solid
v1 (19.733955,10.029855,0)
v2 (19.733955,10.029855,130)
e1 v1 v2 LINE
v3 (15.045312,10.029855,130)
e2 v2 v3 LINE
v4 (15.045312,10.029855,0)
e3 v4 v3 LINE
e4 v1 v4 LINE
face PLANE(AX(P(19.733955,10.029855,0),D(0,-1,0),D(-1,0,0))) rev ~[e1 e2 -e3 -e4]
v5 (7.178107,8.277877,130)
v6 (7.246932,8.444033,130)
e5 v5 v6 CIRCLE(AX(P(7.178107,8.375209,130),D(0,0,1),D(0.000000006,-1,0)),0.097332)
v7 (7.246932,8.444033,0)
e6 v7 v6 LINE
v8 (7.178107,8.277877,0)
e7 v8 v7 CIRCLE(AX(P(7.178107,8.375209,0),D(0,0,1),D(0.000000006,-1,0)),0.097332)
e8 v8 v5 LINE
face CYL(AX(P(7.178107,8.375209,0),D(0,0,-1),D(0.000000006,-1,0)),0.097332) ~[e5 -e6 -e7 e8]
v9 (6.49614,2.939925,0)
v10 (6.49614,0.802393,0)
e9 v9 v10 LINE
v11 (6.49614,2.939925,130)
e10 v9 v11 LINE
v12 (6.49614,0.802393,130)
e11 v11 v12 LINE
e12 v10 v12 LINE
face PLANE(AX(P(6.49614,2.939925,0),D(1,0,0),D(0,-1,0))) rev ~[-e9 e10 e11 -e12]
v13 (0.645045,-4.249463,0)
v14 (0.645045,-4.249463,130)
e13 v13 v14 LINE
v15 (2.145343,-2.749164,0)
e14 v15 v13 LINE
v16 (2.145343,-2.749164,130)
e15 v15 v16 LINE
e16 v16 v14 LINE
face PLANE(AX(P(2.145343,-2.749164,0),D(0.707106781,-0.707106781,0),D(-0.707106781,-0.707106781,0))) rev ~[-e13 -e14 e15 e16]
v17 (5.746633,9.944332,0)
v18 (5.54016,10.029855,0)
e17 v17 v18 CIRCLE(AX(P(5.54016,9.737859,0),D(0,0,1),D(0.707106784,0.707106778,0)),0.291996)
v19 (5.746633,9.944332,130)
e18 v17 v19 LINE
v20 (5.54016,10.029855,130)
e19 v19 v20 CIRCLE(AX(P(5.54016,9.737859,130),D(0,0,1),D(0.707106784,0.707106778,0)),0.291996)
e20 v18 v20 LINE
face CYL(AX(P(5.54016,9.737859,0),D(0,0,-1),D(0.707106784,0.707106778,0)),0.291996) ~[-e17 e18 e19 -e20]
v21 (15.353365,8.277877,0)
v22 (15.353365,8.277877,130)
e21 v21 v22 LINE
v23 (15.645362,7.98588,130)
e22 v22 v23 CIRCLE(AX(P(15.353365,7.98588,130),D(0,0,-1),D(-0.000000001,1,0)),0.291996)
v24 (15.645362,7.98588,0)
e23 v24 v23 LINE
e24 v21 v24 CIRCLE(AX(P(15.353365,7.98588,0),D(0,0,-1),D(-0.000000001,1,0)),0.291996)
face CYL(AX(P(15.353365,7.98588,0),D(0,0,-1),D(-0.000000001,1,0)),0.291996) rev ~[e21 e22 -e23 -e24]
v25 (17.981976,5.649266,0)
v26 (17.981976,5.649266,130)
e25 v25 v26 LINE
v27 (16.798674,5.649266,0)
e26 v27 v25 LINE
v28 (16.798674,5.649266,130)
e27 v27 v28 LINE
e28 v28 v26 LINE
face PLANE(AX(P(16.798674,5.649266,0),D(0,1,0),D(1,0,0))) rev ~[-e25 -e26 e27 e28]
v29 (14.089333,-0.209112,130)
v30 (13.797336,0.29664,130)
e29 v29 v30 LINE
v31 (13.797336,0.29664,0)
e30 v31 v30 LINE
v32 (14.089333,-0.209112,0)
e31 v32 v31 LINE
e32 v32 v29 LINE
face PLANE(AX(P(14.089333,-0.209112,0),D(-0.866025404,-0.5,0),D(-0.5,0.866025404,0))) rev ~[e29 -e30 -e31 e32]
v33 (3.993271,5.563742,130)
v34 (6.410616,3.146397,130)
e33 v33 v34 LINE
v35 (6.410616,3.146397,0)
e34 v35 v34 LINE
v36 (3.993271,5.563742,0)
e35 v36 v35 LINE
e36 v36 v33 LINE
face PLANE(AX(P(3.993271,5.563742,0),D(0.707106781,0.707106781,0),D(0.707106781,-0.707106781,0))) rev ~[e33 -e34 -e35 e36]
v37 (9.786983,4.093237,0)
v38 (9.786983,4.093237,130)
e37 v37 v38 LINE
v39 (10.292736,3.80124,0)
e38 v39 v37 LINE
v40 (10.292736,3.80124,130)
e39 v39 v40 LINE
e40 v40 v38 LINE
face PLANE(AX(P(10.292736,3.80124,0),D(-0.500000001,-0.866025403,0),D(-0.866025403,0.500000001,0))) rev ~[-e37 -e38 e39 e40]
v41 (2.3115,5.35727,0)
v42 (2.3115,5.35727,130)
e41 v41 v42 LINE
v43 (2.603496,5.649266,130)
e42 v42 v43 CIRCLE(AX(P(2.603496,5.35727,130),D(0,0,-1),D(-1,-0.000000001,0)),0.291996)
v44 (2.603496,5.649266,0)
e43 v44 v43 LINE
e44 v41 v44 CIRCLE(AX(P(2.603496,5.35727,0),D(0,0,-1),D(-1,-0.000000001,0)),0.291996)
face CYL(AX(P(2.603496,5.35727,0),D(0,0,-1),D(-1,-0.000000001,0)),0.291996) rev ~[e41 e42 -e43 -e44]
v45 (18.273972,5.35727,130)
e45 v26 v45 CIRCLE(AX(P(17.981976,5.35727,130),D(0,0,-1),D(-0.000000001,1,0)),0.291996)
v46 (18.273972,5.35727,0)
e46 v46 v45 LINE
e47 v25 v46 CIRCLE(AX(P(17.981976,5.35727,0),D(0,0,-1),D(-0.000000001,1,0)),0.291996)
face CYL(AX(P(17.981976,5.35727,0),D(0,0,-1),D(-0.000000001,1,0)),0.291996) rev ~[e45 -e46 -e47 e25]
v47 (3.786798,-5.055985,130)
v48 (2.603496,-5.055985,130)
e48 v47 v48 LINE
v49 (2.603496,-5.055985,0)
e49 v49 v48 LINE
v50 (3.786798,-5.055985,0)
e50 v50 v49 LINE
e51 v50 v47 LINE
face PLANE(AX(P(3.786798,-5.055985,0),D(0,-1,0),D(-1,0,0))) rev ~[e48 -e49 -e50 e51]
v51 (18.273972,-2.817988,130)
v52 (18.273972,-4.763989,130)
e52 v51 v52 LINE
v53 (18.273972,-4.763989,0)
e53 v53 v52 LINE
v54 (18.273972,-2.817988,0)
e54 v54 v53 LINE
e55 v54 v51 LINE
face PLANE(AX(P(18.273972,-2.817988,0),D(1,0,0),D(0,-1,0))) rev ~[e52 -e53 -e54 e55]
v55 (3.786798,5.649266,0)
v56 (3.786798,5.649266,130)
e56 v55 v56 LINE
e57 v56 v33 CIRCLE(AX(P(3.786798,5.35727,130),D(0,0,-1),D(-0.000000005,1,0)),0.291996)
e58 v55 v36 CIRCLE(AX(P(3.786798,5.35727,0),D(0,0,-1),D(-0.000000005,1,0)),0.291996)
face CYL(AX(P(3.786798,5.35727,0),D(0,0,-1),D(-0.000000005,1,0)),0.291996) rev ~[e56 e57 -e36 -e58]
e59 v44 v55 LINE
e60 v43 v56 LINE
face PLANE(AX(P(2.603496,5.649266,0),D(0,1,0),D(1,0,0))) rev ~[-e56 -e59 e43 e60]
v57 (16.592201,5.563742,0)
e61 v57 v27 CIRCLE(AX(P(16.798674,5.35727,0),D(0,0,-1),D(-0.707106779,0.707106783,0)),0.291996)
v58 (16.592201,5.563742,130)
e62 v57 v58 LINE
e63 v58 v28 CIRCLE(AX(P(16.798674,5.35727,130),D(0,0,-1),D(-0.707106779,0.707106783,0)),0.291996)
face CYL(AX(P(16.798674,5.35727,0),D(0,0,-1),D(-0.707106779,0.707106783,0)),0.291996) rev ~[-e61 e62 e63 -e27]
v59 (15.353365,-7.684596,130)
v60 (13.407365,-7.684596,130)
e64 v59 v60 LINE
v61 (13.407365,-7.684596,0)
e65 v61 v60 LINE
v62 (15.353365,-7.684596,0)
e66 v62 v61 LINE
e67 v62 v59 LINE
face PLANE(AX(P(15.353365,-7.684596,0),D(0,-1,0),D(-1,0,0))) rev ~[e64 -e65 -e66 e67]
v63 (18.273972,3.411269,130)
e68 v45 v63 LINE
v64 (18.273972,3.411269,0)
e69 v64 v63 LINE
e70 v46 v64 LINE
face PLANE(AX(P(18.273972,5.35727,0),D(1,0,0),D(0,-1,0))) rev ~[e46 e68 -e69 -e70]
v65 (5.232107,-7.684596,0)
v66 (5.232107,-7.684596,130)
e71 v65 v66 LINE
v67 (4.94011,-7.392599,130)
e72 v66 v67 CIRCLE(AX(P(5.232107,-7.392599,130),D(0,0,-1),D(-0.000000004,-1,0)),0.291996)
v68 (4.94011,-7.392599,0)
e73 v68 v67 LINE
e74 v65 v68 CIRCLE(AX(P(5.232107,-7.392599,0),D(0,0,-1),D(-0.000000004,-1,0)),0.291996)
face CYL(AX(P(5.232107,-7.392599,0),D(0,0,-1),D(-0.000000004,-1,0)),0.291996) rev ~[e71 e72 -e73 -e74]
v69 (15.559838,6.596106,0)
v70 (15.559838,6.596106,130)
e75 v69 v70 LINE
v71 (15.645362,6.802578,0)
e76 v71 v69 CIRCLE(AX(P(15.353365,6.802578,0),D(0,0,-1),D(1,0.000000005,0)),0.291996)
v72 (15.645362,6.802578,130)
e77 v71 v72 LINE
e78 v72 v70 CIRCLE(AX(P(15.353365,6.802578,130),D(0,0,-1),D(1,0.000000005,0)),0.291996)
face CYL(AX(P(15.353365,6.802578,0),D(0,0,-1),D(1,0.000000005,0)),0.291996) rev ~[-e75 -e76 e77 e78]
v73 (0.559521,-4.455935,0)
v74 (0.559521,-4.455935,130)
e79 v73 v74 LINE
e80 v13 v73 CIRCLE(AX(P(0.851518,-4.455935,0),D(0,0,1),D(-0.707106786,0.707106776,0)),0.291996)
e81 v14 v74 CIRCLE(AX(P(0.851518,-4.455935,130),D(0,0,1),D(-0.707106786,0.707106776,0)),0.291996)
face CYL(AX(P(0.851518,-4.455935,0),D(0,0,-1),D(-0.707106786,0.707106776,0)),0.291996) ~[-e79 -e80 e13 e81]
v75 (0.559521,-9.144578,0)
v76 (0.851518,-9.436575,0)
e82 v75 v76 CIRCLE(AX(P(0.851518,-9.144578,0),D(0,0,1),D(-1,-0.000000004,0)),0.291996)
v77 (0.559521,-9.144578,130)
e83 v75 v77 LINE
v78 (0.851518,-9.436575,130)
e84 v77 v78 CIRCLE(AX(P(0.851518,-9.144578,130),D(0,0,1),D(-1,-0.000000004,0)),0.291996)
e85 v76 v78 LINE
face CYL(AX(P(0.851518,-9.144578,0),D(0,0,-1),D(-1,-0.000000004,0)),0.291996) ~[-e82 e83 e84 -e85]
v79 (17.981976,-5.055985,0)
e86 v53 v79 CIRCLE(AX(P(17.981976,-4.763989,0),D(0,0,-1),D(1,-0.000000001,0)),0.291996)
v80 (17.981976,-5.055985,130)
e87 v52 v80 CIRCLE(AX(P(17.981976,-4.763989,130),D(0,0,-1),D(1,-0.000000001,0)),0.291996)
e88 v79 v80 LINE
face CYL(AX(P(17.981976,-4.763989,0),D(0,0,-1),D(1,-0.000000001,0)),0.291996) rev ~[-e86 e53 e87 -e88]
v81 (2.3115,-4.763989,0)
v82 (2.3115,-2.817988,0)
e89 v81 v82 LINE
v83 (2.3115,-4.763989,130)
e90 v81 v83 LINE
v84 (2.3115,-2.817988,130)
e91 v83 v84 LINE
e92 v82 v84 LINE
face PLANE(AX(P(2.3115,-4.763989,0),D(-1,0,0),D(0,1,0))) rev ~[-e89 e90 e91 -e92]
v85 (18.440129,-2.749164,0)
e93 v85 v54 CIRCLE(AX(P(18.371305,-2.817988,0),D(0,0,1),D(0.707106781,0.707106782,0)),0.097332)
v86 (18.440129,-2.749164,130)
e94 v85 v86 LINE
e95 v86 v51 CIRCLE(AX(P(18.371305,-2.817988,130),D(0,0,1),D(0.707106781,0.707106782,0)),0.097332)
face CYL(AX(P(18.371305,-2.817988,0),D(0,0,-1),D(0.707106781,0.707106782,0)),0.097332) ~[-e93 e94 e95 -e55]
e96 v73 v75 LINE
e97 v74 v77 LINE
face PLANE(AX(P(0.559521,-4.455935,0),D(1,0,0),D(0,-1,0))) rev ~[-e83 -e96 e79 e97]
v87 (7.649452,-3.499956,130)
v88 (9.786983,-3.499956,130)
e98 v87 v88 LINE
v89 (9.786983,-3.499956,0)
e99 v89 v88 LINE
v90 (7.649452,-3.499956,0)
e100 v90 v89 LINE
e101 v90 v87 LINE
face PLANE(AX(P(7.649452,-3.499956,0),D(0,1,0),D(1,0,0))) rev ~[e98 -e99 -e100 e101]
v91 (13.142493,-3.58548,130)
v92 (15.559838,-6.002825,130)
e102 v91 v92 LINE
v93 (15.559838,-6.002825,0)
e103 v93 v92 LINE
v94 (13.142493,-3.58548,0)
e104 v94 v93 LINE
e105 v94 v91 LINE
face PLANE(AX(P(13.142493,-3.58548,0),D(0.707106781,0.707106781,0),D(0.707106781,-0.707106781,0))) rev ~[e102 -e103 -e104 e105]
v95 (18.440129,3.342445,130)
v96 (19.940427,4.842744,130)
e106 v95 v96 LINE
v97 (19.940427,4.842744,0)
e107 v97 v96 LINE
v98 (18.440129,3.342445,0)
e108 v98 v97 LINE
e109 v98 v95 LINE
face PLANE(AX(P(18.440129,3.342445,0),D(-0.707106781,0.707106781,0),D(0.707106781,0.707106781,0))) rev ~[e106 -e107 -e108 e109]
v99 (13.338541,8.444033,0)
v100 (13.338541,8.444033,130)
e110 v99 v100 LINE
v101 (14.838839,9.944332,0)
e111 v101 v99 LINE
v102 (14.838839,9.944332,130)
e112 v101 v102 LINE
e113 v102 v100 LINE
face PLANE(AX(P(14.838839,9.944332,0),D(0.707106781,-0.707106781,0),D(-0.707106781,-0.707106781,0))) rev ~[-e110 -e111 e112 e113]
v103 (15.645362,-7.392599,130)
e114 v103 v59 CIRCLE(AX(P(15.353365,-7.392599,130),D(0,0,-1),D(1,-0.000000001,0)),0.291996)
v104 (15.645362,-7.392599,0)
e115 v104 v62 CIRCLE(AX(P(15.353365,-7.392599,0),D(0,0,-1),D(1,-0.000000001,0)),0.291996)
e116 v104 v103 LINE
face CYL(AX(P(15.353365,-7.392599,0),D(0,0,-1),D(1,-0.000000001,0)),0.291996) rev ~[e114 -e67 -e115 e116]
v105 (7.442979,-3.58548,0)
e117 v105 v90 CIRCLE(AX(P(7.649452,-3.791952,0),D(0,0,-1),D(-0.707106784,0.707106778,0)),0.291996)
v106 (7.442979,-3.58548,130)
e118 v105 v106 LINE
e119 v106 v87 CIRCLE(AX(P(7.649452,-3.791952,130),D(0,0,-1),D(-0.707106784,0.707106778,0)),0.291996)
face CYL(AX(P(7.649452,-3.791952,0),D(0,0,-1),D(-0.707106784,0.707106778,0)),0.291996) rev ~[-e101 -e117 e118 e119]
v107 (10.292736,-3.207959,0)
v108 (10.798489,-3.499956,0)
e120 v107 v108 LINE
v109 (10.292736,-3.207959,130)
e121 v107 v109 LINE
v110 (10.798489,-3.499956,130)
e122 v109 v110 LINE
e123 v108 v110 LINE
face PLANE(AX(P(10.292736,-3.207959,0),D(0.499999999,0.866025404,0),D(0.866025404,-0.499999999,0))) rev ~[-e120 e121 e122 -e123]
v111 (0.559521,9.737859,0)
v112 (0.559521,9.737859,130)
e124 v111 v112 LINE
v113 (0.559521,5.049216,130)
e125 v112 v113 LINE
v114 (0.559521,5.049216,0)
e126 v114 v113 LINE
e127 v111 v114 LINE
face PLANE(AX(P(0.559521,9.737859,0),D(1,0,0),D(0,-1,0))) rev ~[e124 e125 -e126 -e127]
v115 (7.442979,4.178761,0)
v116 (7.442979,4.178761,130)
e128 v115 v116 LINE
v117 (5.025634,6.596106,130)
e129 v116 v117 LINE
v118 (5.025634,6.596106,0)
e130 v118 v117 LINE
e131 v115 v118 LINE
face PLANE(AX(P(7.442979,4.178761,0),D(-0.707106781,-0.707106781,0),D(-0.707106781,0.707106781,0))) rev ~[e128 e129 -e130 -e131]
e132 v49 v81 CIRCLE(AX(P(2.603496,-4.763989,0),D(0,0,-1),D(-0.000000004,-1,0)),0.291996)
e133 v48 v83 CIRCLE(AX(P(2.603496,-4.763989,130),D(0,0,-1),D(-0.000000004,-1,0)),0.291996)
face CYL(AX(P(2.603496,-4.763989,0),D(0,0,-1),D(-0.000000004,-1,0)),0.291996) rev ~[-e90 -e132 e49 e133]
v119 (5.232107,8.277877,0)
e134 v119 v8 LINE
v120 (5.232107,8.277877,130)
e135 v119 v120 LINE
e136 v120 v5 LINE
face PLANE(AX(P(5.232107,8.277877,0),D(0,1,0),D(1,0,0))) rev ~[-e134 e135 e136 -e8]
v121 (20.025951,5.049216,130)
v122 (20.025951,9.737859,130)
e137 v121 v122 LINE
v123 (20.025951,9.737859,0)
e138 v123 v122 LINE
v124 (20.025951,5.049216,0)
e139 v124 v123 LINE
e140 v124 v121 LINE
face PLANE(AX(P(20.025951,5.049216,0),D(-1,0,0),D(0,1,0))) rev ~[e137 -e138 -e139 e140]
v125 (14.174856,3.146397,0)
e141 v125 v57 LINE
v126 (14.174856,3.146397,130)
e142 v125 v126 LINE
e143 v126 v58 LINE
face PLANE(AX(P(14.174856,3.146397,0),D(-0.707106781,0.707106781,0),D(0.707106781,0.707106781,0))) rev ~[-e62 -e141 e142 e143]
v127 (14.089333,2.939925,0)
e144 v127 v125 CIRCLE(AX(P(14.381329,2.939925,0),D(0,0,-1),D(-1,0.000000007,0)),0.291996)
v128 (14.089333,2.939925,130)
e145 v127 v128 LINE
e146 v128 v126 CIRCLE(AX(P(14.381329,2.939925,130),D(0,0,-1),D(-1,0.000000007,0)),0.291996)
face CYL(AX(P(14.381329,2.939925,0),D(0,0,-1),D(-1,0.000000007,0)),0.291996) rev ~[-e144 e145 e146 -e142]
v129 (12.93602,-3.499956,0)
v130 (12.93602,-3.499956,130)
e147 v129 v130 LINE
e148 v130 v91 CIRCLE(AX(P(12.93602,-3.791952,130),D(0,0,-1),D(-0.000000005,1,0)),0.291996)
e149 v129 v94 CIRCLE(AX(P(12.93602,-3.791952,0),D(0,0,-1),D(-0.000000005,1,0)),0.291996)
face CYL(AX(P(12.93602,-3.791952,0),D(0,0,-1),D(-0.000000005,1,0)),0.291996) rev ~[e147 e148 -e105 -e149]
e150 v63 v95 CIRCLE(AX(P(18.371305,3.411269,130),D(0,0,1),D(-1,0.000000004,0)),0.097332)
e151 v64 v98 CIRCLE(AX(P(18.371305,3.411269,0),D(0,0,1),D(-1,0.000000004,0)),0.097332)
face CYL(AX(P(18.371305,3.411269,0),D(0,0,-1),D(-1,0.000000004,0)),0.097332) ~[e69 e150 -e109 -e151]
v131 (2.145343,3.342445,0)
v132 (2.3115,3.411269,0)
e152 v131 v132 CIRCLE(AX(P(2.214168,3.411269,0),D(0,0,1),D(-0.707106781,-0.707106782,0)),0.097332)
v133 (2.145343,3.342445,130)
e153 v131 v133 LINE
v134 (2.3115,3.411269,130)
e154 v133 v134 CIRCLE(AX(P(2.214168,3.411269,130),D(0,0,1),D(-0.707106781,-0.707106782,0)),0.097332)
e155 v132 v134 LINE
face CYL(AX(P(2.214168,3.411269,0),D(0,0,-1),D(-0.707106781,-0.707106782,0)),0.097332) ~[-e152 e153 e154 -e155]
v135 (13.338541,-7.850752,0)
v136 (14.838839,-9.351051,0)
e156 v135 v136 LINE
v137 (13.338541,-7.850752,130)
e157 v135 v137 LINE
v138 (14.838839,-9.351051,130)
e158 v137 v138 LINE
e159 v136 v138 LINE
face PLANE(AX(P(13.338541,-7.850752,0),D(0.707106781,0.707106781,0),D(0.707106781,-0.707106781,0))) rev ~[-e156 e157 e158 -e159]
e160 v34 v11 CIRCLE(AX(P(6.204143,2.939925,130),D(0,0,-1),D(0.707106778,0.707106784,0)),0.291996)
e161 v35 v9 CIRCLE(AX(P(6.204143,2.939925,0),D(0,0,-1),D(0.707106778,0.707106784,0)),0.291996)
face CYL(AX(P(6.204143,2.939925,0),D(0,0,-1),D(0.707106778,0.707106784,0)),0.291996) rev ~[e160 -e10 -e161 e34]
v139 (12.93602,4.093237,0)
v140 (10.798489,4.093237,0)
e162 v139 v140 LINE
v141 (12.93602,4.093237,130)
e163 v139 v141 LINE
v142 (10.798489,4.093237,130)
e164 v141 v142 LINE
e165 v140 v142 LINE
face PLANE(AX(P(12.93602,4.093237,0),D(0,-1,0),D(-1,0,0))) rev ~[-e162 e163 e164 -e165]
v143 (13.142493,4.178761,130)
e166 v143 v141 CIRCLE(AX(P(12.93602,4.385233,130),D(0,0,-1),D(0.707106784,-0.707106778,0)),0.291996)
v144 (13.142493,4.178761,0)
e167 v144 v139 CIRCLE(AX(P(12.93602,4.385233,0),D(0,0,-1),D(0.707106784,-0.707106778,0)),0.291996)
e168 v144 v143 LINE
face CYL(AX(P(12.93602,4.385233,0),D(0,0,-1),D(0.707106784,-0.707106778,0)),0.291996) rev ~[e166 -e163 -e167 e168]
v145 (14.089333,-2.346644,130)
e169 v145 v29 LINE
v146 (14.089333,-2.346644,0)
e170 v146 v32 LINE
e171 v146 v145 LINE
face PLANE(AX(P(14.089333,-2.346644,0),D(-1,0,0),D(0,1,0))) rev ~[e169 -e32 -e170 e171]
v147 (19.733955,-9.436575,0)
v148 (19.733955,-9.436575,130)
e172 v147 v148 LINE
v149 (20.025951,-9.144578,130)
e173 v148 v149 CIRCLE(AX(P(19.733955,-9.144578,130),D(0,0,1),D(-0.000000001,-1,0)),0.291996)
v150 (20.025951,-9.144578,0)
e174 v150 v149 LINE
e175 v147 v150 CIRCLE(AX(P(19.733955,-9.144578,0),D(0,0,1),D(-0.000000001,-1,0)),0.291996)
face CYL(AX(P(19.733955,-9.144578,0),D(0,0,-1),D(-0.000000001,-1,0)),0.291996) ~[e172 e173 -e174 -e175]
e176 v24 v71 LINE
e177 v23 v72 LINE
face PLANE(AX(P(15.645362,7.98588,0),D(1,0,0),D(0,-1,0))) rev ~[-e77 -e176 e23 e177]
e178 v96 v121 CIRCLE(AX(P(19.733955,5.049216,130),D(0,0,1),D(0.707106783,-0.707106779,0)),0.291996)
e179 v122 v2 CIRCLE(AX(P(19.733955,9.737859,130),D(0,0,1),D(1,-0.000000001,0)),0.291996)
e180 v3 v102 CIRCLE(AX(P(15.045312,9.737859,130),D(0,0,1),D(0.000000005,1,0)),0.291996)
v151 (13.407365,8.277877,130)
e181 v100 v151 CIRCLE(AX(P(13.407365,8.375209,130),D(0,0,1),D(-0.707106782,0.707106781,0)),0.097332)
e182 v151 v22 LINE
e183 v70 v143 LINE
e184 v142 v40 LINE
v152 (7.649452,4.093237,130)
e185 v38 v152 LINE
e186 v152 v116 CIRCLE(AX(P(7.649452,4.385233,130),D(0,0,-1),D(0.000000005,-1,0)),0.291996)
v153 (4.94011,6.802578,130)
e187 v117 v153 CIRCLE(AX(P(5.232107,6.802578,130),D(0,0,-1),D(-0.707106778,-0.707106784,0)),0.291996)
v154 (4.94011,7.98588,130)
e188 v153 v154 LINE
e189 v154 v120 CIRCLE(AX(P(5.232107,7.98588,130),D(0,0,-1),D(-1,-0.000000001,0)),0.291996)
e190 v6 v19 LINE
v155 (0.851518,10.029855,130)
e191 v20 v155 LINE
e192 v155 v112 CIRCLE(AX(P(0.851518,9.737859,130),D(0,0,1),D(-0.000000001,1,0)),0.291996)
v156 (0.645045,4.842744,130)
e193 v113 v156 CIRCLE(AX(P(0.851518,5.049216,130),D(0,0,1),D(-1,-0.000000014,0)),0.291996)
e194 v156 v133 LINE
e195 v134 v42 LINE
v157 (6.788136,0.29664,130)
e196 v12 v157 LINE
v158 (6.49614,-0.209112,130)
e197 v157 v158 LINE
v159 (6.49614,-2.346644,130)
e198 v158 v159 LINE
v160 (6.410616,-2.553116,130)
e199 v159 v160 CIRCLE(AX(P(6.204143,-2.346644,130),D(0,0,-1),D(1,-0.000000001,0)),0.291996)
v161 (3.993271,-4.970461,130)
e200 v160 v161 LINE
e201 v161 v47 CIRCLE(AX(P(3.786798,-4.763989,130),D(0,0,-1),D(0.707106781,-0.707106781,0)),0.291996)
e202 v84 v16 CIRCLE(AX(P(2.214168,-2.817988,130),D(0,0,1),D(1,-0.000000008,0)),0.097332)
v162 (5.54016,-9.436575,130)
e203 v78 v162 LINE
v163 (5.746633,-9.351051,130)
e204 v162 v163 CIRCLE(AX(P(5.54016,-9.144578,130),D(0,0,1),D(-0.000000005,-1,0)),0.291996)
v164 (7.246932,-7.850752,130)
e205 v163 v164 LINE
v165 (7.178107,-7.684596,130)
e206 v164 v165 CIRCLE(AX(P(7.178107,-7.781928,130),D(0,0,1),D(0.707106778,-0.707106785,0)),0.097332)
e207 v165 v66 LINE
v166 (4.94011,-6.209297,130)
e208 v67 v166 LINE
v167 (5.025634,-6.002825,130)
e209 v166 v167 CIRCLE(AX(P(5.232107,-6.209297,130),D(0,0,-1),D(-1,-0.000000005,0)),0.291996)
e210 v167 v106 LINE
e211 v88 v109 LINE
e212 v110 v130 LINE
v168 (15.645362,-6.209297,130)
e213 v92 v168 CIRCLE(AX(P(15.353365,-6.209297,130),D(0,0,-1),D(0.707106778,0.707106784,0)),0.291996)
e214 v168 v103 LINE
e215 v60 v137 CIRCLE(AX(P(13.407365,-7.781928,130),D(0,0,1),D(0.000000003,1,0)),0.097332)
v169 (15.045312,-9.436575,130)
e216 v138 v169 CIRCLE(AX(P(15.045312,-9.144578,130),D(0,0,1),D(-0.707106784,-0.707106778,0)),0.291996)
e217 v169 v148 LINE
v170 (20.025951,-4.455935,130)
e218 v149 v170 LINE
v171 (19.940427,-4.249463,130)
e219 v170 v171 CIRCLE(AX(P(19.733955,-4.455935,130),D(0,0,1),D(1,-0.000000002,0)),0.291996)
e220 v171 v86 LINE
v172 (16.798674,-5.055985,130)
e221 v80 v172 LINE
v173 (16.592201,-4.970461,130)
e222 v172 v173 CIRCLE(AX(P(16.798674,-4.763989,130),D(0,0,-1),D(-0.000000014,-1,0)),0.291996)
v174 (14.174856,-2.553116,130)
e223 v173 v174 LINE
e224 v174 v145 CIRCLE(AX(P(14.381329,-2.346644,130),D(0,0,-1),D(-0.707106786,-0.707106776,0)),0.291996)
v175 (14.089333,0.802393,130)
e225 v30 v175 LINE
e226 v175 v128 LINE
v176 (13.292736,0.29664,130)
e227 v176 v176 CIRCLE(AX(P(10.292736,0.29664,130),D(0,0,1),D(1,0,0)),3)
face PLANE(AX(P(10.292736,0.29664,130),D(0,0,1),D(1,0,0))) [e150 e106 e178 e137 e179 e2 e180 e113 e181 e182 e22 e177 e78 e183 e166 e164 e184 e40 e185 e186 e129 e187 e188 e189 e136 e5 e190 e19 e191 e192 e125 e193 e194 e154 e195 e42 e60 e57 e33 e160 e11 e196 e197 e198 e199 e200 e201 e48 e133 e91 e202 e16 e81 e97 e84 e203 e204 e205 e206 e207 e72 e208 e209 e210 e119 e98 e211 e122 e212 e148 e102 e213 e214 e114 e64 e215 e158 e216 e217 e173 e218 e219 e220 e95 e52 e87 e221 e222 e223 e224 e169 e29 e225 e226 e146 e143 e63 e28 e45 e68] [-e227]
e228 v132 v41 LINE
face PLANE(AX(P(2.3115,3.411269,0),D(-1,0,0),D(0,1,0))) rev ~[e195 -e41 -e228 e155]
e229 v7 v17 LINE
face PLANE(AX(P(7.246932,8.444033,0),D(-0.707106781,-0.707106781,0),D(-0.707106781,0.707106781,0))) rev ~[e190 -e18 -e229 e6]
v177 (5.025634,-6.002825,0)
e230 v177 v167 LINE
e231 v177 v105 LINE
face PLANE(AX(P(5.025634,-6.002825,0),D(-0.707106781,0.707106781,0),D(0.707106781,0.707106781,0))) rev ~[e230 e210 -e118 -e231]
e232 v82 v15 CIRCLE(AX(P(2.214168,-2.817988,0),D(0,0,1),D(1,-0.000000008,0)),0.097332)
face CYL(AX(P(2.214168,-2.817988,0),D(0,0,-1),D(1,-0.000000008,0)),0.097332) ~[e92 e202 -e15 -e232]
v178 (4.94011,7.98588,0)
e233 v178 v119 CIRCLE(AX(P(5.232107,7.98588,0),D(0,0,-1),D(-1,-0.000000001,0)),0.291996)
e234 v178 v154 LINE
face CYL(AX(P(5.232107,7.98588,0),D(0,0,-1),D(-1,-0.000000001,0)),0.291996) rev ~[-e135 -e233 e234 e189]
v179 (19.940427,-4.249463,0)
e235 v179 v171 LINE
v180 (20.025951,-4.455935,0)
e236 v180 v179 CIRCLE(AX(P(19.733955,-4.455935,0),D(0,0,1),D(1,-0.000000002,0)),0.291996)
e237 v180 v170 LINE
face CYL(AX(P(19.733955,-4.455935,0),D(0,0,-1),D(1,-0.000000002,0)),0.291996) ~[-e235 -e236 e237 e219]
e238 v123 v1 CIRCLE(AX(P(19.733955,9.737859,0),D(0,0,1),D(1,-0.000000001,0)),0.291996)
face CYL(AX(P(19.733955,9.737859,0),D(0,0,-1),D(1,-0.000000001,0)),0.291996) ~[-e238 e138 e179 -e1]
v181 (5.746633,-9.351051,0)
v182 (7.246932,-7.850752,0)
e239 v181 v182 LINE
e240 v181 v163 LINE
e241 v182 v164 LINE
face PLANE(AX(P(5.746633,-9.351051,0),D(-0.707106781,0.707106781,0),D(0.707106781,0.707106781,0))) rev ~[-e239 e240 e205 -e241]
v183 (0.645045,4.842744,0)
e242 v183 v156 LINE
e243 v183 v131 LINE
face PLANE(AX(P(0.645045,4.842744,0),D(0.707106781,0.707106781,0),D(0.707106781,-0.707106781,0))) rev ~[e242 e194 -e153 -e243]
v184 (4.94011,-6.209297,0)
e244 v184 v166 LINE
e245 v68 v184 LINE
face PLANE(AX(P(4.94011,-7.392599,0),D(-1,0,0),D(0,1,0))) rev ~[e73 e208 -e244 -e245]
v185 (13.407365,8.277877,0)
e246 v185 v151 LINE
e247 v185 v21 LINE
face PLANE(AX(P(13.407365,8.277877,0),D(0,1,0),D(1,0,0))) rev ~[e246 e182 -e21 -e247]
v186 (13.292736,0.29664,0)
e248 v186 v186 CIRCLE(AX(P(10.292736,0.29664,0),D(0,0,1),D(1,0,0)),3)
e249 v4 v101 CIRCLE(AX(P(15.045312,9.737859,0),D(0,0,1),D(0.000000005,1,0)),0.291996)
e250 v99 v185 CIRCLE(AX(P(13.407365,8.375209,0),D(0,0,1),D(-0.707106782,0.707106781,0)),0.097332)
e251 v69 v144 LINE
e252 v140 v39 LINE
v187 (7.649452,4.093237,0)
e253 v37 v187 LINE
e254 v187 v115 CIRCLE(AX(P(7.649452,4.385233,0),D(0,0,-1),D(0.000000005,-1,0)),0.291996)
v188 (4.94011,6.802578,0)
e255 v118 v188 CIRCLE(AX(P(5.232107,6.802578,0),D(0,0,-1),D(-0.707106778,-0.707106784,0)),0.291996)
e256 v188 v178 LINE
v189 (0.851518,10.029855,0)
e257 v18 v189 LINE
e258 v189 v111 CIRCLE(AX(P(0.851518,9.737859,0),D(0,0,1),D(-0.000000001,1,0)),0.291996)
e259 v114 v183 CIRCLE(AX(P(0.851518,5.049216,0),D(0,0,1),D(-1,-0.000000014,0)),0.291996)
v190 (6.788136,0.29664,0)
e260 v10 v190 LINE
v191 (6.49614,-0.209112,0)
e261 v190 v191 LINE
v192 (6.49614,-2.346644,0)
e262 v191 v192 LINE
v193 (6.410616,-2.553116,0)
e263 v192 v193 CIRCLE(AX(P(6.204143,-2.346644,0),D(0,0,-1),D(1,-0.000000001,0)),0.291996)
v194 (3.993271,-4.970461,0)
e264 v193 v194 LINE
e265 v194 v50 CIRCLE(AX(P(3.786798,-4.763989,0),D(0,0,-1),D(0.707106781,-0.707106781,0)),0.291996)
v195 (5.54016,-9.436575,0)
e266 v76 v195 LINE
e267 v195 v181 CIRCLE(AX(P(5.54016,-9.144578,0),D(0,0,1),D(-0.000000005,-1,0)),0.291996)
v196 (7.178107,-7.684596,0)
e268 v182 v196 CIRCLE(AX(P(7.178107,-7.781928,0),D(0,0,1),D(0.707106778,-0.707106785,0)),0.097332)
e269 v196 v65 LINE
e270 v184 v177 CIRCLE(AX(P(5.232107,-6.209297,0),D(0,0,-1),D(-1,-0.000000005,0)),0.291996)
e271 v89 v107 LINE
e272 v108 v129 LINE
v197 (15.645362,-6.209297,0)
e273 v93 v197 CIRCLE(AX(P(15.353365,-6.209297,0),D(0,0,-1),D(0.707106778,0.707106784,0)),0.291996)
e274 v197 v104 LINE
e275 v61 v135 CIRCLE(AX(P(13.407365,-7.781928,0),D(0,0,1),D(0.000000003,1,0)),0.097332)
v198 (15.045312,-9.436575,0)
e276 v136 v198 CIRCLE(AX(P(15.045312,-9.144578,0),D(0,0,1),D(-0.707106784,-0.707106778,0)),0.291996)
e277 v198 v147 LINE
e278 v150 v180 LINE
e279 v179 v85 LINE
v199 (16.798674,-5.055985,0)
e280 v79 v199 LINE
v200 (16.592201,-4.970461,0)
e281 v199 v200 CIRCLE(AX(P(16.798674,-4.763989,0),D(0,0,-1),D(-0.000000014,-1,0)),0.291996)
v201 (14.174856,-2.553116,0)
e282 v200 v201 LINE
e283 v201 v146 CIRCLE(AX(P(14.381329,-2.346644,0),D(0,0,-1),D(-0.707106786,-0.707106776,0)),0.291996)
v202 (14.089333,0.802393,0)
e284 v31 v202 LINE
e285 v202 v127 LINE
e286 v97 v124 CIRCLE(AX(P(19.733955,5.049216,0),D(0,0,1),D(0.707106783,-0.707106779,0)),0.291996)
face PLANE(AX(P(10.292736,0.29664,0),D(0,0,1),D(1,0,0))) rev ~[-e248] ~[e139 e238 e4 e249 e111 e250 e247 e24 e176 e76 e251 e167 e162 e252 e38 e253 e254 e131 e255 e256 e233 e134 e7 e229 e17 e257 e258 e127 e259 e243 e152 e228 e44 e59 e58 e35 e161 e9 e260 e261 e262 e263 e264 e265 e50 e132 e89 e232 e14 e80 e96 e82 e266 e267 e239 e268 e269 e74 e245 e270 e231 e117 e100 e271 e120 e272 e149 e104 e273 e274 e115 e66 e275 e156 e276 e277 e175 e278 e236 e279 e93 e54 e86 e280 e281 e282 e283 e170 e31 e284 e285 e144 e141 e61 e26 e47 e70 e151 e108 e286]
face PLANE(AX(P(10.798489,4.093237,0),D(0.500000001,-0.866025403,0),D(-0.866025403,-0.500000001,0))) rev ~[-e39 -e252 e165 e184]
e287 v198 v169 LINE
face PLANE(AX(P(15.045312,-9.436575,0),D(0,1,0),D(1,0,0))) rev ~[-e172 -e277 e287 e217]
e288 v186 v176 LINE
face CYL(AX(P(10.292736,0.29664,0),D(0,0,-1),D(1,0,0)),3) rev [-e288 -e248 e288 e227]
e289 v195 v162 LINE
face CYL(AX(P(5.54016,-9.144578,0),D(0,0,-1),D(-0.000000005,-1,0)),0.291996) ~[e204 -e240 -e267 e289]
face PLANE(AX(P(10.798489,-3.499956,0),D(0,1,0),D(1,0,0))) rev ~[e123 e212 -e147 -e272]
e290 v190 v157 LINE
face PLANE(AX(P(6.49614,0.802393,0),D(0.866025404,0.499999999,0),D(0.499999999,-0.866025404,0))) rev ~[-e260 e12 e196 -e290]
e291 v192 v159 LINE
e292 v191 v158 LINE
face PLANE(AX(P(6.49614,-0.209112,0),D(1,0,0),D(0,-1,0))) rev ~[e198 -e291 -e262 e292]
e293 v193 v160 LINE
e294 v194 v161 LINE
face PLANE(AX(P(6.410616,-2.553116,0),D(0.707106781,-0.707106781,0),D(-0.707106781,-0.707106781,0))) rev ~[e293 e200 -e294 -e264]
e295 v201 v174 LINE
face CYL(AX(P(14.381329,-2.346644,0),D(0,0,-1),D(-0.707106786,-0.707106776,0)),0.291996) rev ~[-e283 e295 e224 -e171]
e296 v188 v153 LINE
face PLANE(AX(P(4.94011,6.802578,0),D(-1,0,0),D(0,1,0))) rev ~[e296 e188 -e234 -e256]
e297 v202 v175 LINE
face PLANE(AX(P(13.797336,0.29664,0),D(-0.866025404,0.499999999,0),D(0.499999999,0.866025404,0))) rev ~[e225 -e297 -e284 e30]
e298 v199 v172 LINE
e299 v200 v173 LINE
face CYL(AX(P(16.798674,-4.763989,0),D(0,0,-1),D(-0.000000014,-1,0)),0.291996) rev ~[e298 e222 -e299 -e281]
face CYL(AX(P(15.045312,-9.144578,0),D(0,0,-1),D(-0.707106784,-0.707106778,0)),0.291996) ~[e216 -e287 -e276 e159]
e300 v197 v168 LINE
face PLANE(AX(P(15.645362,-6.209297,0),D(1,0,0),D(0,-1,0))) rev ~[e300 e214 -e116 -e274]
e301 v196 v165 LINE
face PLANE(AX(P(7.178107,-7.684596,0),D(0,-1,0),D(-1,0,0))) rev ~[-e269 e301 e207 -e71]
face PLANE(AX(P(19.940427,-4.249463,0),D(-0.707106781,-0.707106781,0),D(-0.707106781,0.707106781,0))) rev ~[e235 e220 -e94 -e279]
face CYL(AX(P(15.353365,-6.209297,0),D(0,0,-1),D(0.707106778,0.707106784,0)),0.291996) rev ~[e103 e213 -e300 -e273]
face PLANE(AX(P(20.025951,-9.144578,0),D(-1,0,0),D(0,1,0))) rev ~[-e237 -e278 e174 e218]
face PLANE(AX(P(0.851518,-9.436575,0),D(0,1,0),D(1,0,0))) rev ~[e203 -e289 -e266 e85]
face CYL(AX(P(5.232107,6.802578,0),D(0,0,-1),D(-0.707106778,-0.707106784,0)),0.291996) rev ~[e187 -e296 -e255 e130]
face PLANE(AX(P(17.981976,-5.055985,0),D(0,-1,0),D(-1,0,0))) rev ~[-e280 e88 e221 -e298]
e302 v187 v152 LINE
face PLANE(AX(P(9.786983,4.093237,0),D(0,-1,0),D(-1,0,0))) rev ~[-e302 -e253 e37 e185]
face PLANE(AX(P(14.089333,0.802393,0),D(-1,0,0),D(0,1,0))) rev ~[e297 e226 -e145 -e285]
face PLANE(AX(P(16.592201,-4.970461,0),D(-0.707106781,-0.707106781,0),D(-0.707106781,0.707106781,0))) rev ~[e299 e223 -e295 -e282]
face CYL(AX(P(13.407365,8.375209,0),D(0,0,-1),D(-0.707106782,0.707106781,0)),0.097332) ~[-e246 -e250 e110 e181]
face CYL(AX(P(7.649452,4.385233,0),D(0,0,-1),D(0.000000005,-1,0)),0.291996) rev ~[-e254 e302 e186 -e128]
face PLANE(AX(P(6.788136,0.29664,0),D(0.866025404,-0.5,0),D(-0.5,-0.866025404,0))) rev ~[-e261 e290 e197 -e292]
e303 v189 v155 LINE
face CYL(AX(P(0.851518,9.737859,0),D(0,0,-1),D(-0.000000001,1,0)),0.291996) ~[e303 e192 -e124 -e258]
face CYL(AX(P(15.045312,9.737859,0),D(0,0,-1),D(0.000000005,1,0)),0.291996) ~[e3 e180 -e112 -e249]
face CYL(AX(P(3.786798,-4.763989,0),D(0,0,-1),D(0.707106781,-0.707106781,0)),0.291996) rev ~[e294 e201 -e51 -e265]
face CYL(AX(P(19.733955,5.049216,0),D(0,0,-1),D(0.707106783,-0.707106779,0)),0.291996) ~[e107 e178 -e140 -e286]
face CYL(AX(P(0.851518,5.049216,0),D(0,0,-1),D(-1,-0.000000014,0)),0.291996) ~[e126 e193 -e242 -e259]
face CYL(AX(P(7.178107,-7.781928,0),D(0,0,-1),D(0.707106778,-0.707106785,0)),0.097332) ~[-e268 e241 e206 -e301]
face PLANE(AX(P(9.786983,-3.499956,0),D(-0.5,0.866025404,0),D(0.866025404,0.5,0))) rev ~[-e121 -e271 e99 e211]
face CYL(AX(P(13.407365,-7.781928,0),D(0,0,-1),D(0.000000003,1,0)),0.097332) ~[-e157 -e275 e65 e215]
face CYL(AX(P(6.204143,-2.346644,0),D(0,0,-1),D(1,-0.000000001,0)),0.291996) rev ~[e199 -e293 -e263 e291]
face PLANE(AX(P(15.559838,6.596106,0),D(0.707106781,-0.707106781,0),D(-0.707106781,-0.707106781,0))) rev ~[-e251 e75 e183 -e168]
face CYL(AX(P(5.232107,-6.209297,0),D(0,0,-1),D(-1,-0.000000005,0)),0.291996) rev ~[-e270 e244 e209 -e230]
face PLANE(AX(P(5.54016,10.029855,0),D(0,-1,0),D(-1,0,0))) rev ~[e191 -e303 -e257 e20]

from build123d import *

# Parameters (mm, degrees)
ESQUISSE1_R        = 3
BOSS_EXTRU_1_DEPTH = 130


with BuildPart() as part:
    # Esquisse1 → Boss.-Extru.1 (new body)
    with BuildSketch(Plane.XY):
        with BuildLine():
            Line((18.273972397, -2.817988329), (18.273972397, -4.763988771))
            ThreePointArc((18.273972397, -4.763988771), (18.188448617, -4.970461441), (17.981975947, -5.055985222))
            Line((17.981975947, -5.055985222), (16.798674025, -5.055985222))
            ThreePointArc((16.798674025, -5.055985222), (16.686931822, -5.033758315), (16.592201355, -4.970461441))
            Line((16.592201355, -4.970461441), (14.174856283, -2.553116369))
            ThreePointArc((14.174856283, -2.553116369), (14.111559409, -2.458385902), (14.089332502, -2.346643699))
            Line((14.089332502, -2.346643699), (14.089332502, -0.209112213))
            Line((14.089332502, -0.209112213), (13.797336052, 0.296640474))
            Line((13.797336052, 0.296640474), (14.089332502, 0.802393162))
            Line((14.089332502, 0.802393162), (14.089332502, 2.939924647))
            ThreePointArc((14.089332502, 2.939924647), (14.111559409, 3.051666851), (14.174856283, 3.146397317))
            Line((14.174856283, 3.146397317), (16.592201355, 5.56374239))
            ThreePointArc((16.592201355, 5.56374239), (16.686931822, 5.627039264), (16.798674025, 5.64926617))
            Line((16.798674025, 5.64926617), (17.981975947, 5.64926617))
            ThreePointArc((17.981975947, 5.64926617), (18.188448617, 5.56374239), (18.273972397, 5.35726972))
            Line((18.273972397, 5.35726972), (18.273972397, 3.411269278))
            ThreePointArc((18.273972397, 3.411269278), (18.334057146, 3.321346096), (18.440128771, 3.342445054))
            Line((18.440128771, 3.342445054), (19.940427319, 4.842743602))
            ThreePointArc((19.940427319, 4.842743602), (20.003724193, 4.937474069), (20.025951099, 5.049216272))
            Line((20.025951099, 5.049216272), (20.025951099, 9.737859034))
            ThreePointArc((20.025951099, 9.737859034), (19.940427319, 9.944331704), (19.733954649, 10.029855484))
            Line((19.733954649, 10.029855484), (15.045311887, 10.029855484))
            ThreePointArc((15.045311887, 10.029855484), (14.933569683, 10.007628578), (14.838839217, 9.944331704))
            Line((14.838839217, 9.944331704), (13.338540669, 8.444033156))
            ThreePointArc((13.338540669, 8.444033156), (13.317441711, 8.337961531), (13.407364892, 8.277876782))
            Line((13.407364892, 8.277876782), (15.353365335, 8.277876782))
            ThreePointArc((15.353365335, 8.277876782), (15.559838005, 8.192353002), (15.645361785, 7.985880332))
            Line((15.645361785, 7.985880332), (15.645361785, 6.802578411))
            ThreePointArc((15.645361785, 6.802578411), (15.623134879, 6.690836207), (15.559838005, 6.596105741))
            Line((15.559838005, 6.596105741), (13.142492932, 4.178760668))
            ThreePointArc((13.142492932, 4.178760668), (13.047762466, 4.115463794), (12.936020262, 4.093236888))
            Line((12.936020262, 4.093236888), (10.798488777, 4.093236888))
            Line((10.798488777, 4.093236888), (10.292736089, 3.801240437))
            Line((10.292736089, 3.801240437), (9.786983402, 4.093236888))
            Line((9.786983402, 4.093236888), (7.649451916, 4.093236888))
            ThreePointArc((7.649451916, 4.093236888), (7.537709712, 4.115463794), (7.442979246, 4.178760668))
            Line((7.442979246, 4.178760668), (5.025634173, 6.596105741))
            ThreePointArc((5.025634173, 6.596105741), (4.962337299, 6.690836207), (4.940110393, 6.802578411))
            Line((4.940110393, 6.802578411), (4.940110393, 7.985880332))
            ThreePointArc((4.940110393, 7.985880332), (5.025634173, 8.192353002), (5.232106843, 8.277876782))
            Line((5.232106843, 8.277876782), (7.178107286, 8.277876782))
            ThreePointArc((7.178107286, 8.277876782), (7.268030467, 8.337961531), (7.246931509, 8.444033156))
            Line((7.246931509, 8.444033156), (5.746632961, 9.944331704))
            ThreePointArc((5.746632961, 9.944331704), (5.651902495, 10.007628578), (5.540160291, 10.029855484))
            Line((5.540160291, 10.029855484), (0.85151753, 10.029855484))
            ThreePointArc((0.85151753, 10.029855484), (0.64504486, 9.944331704), (0.559521079, 9.737859034))
            Line((0.559521079, 9.737859034), (0.559521079, 5.049216272))
            ThreePointArc((0.559521079, 5.049216272), (0.581747986, 4.937474069), (0.64504486, 4.842743602))
            Line((0.64504486, 4.842743602), (2.145343408, 3.342445054))
            ThreePointArc((2.145343408, 3.342445054), (2.251415032, 3.321346096), (2.311499781, 3.411269278))
            Line((2.311499781, 3.411269278), (2.311499781, 5.35726972))
            ThreePointArc((2.311499781, 5.35726972), (2.397023561, 5.56374239), (2.603496231, 5.64926617))
            Line((2.603496231, 5.64926617), (3.786798153, 5.64926617))
            ThreePointArc((3.786798153, 5.64926617), (3.898540357, 5.627039264), (3.993270823, 5.56374239))
            Line((3.993270823, 5.56374239), (6.410615896, 3.146397317))
            ThreePointArc((6.410615896, 3.146397317), (6.47391277, 3.051666851), (6.496139676, 2.939924647))
            Line((6.496139676, 2.939924647), (6.496139676, 0.802393162))
            Line((6.496139676, 0.802393162), (6.788136126, 0.296640474))
            Line((6.788136126, 0.296640474), (6.496139676, -0.209112213))
            Line((6.496139676, -0.209112213), (6.496139676, -2.346643699))
            ThreePointArc((6.496139676, -2.346643699), (6.47391277, -2.458385902), (6.410615896, -2.553116369))
            Line((6.410615896, -2.553116369), (3.993270823, -4.970461441))
            ThreePointArc((3.993270823, -4.970461441), (3.898540357, -5.033758315), (3.786798153, -5.055985222))
            Line((3.786798153, -5.055985222), (2.603496231, -5.055985222))
            ThreePointArc((2.603496231, -5.055985222), (2.397023561, -4.970461441), (2.311499781, -4.763988771))
            Line((2.311499781, -4.763988771), (2.311499781, -2.817988329))
            ThreePointArc((2.311499781, -2.817988329), (2.251415032, -2.728065147), (2.145343408, -2.749164105))
            Line((2.145343408, -2.749164105), (0.64504486, -4.249462653))
            ThreePointArc((0.64504486, -4.249462653), (0.581747986, -4.34419312), (0.559521079, -4.455935324))
            Line((0.559521079, -4.455935324), (0.559521079, -9.144578085))
            ThreePointArc((0.559521079, -9.144578085), (0.64504486, -9.351050755), (0.85151753, -9.436574535))
            Line((0.85151753, -9.436574535), (5.540160291, -9.436574535))
            ThreePointArc((5.540160291, -9.436574535), (5.651902495, -9.414347629), (5.746632961, -9.351050755))
            Line((5.746632961, -9.351050755), (7.246931509, -7.850752207))
            ThreePointArc((7.246931509, -7.850752207), (7.268030467, -7.744680582), (7.178107286, -7.684595834))
            Line((7.178107286, -7.684595834), (5.232106843, -7.684595834))
            ThreePointArc((5.232106843, -7.684595834), (5.025634173, -7.599072053), (4.940110393, -7.392599383))
            Line((4.940110393, -7.392599383), (4.940110393, -6.209297462))
            ThreePointArc((4.940110393, -6.209297462), (4.962337299, -6.097555258), (5.025634173, -6.002824792))
            Line((5.025634173, -6.002824792), (7.442979246, -3.585479719))
            ThreePointArc((7.442979246, -3.585479719), (7.537709712, -3.522182845), (7.649451916, -3.499955939))
            Line((7.649451916, -3.499955939), (9.786983402, -3.499955939))
            Line((9.786983402, -3.499955939), (10.292736089, -3.207959489))
            Line((10.292736089, -3.207959489), (10.798488777, -3.499955939))
            Line((10.798488777, -3.499955939), (12.936020262, -3.499955939))
            ThreePointArc((12.936020262, -3.499955939), (13.047762466, -3.522182845), (13.142492932, -3.585479719))
            Line((13.142492932, -3.585479719), (15.559838005, -6.002824792))
            ThreePointArc((15.559838005, -6.002824792), (15.623134879, -6.097555258), (15.645361785, -6.209297462))
            Line((15.645361785, -6.209297462), (15.645361785, -7.392599383))
            ThreePointArc((15.645361785, -7.392599383), (15.559838005, -7.599072053), (15.353365335, -7.684595834))
            Line((15.353365335, -7.684595834), (13.407364892, -7.684595834))
            ThreePointArc((13.407364892, -7.684595834), (13.317441711, -7.744680582), (13.338540669, -7.850752207))
            Line((13.338540669, -7.850752207), (14.838839217, -9.351050755))
            ThreePointArc((14.838839217, -9.351050755), (14.933569683, -9.414347629), (15.045311887, -9.436574535))
            Line((15.045311887, -9.436574535), (19.733954649, -9.436574535))
            ThreePointArc((19.733954649, -9.436574535), (19.940427319, -9.351050755), (20.025951099, -9.144578085))
            Line((20.025951099, -9.144578085), (20.025951099, -4.455935324))
            ThreePointArc((20.025951099, -4.455935324), (20.003724193, -4.34419312), (19.940427319, -4.249462653))
            Line((19.940427319, -4.249462653), (18.440128771, -2.749164105))
            ThreePointArc((18.440128771, -2.749164105), (18.334057146, -2.728065147), (18.273972397, -2.817988329))
        make_face()
        with Locations((10.292736089, 0.296640474)):
            Circle(ESQUISSE1_R, mode=Mode.SUBTRACT)
    extrude(amount=BOSS_EXTRU_1_DEPTH)


solid = part.part
